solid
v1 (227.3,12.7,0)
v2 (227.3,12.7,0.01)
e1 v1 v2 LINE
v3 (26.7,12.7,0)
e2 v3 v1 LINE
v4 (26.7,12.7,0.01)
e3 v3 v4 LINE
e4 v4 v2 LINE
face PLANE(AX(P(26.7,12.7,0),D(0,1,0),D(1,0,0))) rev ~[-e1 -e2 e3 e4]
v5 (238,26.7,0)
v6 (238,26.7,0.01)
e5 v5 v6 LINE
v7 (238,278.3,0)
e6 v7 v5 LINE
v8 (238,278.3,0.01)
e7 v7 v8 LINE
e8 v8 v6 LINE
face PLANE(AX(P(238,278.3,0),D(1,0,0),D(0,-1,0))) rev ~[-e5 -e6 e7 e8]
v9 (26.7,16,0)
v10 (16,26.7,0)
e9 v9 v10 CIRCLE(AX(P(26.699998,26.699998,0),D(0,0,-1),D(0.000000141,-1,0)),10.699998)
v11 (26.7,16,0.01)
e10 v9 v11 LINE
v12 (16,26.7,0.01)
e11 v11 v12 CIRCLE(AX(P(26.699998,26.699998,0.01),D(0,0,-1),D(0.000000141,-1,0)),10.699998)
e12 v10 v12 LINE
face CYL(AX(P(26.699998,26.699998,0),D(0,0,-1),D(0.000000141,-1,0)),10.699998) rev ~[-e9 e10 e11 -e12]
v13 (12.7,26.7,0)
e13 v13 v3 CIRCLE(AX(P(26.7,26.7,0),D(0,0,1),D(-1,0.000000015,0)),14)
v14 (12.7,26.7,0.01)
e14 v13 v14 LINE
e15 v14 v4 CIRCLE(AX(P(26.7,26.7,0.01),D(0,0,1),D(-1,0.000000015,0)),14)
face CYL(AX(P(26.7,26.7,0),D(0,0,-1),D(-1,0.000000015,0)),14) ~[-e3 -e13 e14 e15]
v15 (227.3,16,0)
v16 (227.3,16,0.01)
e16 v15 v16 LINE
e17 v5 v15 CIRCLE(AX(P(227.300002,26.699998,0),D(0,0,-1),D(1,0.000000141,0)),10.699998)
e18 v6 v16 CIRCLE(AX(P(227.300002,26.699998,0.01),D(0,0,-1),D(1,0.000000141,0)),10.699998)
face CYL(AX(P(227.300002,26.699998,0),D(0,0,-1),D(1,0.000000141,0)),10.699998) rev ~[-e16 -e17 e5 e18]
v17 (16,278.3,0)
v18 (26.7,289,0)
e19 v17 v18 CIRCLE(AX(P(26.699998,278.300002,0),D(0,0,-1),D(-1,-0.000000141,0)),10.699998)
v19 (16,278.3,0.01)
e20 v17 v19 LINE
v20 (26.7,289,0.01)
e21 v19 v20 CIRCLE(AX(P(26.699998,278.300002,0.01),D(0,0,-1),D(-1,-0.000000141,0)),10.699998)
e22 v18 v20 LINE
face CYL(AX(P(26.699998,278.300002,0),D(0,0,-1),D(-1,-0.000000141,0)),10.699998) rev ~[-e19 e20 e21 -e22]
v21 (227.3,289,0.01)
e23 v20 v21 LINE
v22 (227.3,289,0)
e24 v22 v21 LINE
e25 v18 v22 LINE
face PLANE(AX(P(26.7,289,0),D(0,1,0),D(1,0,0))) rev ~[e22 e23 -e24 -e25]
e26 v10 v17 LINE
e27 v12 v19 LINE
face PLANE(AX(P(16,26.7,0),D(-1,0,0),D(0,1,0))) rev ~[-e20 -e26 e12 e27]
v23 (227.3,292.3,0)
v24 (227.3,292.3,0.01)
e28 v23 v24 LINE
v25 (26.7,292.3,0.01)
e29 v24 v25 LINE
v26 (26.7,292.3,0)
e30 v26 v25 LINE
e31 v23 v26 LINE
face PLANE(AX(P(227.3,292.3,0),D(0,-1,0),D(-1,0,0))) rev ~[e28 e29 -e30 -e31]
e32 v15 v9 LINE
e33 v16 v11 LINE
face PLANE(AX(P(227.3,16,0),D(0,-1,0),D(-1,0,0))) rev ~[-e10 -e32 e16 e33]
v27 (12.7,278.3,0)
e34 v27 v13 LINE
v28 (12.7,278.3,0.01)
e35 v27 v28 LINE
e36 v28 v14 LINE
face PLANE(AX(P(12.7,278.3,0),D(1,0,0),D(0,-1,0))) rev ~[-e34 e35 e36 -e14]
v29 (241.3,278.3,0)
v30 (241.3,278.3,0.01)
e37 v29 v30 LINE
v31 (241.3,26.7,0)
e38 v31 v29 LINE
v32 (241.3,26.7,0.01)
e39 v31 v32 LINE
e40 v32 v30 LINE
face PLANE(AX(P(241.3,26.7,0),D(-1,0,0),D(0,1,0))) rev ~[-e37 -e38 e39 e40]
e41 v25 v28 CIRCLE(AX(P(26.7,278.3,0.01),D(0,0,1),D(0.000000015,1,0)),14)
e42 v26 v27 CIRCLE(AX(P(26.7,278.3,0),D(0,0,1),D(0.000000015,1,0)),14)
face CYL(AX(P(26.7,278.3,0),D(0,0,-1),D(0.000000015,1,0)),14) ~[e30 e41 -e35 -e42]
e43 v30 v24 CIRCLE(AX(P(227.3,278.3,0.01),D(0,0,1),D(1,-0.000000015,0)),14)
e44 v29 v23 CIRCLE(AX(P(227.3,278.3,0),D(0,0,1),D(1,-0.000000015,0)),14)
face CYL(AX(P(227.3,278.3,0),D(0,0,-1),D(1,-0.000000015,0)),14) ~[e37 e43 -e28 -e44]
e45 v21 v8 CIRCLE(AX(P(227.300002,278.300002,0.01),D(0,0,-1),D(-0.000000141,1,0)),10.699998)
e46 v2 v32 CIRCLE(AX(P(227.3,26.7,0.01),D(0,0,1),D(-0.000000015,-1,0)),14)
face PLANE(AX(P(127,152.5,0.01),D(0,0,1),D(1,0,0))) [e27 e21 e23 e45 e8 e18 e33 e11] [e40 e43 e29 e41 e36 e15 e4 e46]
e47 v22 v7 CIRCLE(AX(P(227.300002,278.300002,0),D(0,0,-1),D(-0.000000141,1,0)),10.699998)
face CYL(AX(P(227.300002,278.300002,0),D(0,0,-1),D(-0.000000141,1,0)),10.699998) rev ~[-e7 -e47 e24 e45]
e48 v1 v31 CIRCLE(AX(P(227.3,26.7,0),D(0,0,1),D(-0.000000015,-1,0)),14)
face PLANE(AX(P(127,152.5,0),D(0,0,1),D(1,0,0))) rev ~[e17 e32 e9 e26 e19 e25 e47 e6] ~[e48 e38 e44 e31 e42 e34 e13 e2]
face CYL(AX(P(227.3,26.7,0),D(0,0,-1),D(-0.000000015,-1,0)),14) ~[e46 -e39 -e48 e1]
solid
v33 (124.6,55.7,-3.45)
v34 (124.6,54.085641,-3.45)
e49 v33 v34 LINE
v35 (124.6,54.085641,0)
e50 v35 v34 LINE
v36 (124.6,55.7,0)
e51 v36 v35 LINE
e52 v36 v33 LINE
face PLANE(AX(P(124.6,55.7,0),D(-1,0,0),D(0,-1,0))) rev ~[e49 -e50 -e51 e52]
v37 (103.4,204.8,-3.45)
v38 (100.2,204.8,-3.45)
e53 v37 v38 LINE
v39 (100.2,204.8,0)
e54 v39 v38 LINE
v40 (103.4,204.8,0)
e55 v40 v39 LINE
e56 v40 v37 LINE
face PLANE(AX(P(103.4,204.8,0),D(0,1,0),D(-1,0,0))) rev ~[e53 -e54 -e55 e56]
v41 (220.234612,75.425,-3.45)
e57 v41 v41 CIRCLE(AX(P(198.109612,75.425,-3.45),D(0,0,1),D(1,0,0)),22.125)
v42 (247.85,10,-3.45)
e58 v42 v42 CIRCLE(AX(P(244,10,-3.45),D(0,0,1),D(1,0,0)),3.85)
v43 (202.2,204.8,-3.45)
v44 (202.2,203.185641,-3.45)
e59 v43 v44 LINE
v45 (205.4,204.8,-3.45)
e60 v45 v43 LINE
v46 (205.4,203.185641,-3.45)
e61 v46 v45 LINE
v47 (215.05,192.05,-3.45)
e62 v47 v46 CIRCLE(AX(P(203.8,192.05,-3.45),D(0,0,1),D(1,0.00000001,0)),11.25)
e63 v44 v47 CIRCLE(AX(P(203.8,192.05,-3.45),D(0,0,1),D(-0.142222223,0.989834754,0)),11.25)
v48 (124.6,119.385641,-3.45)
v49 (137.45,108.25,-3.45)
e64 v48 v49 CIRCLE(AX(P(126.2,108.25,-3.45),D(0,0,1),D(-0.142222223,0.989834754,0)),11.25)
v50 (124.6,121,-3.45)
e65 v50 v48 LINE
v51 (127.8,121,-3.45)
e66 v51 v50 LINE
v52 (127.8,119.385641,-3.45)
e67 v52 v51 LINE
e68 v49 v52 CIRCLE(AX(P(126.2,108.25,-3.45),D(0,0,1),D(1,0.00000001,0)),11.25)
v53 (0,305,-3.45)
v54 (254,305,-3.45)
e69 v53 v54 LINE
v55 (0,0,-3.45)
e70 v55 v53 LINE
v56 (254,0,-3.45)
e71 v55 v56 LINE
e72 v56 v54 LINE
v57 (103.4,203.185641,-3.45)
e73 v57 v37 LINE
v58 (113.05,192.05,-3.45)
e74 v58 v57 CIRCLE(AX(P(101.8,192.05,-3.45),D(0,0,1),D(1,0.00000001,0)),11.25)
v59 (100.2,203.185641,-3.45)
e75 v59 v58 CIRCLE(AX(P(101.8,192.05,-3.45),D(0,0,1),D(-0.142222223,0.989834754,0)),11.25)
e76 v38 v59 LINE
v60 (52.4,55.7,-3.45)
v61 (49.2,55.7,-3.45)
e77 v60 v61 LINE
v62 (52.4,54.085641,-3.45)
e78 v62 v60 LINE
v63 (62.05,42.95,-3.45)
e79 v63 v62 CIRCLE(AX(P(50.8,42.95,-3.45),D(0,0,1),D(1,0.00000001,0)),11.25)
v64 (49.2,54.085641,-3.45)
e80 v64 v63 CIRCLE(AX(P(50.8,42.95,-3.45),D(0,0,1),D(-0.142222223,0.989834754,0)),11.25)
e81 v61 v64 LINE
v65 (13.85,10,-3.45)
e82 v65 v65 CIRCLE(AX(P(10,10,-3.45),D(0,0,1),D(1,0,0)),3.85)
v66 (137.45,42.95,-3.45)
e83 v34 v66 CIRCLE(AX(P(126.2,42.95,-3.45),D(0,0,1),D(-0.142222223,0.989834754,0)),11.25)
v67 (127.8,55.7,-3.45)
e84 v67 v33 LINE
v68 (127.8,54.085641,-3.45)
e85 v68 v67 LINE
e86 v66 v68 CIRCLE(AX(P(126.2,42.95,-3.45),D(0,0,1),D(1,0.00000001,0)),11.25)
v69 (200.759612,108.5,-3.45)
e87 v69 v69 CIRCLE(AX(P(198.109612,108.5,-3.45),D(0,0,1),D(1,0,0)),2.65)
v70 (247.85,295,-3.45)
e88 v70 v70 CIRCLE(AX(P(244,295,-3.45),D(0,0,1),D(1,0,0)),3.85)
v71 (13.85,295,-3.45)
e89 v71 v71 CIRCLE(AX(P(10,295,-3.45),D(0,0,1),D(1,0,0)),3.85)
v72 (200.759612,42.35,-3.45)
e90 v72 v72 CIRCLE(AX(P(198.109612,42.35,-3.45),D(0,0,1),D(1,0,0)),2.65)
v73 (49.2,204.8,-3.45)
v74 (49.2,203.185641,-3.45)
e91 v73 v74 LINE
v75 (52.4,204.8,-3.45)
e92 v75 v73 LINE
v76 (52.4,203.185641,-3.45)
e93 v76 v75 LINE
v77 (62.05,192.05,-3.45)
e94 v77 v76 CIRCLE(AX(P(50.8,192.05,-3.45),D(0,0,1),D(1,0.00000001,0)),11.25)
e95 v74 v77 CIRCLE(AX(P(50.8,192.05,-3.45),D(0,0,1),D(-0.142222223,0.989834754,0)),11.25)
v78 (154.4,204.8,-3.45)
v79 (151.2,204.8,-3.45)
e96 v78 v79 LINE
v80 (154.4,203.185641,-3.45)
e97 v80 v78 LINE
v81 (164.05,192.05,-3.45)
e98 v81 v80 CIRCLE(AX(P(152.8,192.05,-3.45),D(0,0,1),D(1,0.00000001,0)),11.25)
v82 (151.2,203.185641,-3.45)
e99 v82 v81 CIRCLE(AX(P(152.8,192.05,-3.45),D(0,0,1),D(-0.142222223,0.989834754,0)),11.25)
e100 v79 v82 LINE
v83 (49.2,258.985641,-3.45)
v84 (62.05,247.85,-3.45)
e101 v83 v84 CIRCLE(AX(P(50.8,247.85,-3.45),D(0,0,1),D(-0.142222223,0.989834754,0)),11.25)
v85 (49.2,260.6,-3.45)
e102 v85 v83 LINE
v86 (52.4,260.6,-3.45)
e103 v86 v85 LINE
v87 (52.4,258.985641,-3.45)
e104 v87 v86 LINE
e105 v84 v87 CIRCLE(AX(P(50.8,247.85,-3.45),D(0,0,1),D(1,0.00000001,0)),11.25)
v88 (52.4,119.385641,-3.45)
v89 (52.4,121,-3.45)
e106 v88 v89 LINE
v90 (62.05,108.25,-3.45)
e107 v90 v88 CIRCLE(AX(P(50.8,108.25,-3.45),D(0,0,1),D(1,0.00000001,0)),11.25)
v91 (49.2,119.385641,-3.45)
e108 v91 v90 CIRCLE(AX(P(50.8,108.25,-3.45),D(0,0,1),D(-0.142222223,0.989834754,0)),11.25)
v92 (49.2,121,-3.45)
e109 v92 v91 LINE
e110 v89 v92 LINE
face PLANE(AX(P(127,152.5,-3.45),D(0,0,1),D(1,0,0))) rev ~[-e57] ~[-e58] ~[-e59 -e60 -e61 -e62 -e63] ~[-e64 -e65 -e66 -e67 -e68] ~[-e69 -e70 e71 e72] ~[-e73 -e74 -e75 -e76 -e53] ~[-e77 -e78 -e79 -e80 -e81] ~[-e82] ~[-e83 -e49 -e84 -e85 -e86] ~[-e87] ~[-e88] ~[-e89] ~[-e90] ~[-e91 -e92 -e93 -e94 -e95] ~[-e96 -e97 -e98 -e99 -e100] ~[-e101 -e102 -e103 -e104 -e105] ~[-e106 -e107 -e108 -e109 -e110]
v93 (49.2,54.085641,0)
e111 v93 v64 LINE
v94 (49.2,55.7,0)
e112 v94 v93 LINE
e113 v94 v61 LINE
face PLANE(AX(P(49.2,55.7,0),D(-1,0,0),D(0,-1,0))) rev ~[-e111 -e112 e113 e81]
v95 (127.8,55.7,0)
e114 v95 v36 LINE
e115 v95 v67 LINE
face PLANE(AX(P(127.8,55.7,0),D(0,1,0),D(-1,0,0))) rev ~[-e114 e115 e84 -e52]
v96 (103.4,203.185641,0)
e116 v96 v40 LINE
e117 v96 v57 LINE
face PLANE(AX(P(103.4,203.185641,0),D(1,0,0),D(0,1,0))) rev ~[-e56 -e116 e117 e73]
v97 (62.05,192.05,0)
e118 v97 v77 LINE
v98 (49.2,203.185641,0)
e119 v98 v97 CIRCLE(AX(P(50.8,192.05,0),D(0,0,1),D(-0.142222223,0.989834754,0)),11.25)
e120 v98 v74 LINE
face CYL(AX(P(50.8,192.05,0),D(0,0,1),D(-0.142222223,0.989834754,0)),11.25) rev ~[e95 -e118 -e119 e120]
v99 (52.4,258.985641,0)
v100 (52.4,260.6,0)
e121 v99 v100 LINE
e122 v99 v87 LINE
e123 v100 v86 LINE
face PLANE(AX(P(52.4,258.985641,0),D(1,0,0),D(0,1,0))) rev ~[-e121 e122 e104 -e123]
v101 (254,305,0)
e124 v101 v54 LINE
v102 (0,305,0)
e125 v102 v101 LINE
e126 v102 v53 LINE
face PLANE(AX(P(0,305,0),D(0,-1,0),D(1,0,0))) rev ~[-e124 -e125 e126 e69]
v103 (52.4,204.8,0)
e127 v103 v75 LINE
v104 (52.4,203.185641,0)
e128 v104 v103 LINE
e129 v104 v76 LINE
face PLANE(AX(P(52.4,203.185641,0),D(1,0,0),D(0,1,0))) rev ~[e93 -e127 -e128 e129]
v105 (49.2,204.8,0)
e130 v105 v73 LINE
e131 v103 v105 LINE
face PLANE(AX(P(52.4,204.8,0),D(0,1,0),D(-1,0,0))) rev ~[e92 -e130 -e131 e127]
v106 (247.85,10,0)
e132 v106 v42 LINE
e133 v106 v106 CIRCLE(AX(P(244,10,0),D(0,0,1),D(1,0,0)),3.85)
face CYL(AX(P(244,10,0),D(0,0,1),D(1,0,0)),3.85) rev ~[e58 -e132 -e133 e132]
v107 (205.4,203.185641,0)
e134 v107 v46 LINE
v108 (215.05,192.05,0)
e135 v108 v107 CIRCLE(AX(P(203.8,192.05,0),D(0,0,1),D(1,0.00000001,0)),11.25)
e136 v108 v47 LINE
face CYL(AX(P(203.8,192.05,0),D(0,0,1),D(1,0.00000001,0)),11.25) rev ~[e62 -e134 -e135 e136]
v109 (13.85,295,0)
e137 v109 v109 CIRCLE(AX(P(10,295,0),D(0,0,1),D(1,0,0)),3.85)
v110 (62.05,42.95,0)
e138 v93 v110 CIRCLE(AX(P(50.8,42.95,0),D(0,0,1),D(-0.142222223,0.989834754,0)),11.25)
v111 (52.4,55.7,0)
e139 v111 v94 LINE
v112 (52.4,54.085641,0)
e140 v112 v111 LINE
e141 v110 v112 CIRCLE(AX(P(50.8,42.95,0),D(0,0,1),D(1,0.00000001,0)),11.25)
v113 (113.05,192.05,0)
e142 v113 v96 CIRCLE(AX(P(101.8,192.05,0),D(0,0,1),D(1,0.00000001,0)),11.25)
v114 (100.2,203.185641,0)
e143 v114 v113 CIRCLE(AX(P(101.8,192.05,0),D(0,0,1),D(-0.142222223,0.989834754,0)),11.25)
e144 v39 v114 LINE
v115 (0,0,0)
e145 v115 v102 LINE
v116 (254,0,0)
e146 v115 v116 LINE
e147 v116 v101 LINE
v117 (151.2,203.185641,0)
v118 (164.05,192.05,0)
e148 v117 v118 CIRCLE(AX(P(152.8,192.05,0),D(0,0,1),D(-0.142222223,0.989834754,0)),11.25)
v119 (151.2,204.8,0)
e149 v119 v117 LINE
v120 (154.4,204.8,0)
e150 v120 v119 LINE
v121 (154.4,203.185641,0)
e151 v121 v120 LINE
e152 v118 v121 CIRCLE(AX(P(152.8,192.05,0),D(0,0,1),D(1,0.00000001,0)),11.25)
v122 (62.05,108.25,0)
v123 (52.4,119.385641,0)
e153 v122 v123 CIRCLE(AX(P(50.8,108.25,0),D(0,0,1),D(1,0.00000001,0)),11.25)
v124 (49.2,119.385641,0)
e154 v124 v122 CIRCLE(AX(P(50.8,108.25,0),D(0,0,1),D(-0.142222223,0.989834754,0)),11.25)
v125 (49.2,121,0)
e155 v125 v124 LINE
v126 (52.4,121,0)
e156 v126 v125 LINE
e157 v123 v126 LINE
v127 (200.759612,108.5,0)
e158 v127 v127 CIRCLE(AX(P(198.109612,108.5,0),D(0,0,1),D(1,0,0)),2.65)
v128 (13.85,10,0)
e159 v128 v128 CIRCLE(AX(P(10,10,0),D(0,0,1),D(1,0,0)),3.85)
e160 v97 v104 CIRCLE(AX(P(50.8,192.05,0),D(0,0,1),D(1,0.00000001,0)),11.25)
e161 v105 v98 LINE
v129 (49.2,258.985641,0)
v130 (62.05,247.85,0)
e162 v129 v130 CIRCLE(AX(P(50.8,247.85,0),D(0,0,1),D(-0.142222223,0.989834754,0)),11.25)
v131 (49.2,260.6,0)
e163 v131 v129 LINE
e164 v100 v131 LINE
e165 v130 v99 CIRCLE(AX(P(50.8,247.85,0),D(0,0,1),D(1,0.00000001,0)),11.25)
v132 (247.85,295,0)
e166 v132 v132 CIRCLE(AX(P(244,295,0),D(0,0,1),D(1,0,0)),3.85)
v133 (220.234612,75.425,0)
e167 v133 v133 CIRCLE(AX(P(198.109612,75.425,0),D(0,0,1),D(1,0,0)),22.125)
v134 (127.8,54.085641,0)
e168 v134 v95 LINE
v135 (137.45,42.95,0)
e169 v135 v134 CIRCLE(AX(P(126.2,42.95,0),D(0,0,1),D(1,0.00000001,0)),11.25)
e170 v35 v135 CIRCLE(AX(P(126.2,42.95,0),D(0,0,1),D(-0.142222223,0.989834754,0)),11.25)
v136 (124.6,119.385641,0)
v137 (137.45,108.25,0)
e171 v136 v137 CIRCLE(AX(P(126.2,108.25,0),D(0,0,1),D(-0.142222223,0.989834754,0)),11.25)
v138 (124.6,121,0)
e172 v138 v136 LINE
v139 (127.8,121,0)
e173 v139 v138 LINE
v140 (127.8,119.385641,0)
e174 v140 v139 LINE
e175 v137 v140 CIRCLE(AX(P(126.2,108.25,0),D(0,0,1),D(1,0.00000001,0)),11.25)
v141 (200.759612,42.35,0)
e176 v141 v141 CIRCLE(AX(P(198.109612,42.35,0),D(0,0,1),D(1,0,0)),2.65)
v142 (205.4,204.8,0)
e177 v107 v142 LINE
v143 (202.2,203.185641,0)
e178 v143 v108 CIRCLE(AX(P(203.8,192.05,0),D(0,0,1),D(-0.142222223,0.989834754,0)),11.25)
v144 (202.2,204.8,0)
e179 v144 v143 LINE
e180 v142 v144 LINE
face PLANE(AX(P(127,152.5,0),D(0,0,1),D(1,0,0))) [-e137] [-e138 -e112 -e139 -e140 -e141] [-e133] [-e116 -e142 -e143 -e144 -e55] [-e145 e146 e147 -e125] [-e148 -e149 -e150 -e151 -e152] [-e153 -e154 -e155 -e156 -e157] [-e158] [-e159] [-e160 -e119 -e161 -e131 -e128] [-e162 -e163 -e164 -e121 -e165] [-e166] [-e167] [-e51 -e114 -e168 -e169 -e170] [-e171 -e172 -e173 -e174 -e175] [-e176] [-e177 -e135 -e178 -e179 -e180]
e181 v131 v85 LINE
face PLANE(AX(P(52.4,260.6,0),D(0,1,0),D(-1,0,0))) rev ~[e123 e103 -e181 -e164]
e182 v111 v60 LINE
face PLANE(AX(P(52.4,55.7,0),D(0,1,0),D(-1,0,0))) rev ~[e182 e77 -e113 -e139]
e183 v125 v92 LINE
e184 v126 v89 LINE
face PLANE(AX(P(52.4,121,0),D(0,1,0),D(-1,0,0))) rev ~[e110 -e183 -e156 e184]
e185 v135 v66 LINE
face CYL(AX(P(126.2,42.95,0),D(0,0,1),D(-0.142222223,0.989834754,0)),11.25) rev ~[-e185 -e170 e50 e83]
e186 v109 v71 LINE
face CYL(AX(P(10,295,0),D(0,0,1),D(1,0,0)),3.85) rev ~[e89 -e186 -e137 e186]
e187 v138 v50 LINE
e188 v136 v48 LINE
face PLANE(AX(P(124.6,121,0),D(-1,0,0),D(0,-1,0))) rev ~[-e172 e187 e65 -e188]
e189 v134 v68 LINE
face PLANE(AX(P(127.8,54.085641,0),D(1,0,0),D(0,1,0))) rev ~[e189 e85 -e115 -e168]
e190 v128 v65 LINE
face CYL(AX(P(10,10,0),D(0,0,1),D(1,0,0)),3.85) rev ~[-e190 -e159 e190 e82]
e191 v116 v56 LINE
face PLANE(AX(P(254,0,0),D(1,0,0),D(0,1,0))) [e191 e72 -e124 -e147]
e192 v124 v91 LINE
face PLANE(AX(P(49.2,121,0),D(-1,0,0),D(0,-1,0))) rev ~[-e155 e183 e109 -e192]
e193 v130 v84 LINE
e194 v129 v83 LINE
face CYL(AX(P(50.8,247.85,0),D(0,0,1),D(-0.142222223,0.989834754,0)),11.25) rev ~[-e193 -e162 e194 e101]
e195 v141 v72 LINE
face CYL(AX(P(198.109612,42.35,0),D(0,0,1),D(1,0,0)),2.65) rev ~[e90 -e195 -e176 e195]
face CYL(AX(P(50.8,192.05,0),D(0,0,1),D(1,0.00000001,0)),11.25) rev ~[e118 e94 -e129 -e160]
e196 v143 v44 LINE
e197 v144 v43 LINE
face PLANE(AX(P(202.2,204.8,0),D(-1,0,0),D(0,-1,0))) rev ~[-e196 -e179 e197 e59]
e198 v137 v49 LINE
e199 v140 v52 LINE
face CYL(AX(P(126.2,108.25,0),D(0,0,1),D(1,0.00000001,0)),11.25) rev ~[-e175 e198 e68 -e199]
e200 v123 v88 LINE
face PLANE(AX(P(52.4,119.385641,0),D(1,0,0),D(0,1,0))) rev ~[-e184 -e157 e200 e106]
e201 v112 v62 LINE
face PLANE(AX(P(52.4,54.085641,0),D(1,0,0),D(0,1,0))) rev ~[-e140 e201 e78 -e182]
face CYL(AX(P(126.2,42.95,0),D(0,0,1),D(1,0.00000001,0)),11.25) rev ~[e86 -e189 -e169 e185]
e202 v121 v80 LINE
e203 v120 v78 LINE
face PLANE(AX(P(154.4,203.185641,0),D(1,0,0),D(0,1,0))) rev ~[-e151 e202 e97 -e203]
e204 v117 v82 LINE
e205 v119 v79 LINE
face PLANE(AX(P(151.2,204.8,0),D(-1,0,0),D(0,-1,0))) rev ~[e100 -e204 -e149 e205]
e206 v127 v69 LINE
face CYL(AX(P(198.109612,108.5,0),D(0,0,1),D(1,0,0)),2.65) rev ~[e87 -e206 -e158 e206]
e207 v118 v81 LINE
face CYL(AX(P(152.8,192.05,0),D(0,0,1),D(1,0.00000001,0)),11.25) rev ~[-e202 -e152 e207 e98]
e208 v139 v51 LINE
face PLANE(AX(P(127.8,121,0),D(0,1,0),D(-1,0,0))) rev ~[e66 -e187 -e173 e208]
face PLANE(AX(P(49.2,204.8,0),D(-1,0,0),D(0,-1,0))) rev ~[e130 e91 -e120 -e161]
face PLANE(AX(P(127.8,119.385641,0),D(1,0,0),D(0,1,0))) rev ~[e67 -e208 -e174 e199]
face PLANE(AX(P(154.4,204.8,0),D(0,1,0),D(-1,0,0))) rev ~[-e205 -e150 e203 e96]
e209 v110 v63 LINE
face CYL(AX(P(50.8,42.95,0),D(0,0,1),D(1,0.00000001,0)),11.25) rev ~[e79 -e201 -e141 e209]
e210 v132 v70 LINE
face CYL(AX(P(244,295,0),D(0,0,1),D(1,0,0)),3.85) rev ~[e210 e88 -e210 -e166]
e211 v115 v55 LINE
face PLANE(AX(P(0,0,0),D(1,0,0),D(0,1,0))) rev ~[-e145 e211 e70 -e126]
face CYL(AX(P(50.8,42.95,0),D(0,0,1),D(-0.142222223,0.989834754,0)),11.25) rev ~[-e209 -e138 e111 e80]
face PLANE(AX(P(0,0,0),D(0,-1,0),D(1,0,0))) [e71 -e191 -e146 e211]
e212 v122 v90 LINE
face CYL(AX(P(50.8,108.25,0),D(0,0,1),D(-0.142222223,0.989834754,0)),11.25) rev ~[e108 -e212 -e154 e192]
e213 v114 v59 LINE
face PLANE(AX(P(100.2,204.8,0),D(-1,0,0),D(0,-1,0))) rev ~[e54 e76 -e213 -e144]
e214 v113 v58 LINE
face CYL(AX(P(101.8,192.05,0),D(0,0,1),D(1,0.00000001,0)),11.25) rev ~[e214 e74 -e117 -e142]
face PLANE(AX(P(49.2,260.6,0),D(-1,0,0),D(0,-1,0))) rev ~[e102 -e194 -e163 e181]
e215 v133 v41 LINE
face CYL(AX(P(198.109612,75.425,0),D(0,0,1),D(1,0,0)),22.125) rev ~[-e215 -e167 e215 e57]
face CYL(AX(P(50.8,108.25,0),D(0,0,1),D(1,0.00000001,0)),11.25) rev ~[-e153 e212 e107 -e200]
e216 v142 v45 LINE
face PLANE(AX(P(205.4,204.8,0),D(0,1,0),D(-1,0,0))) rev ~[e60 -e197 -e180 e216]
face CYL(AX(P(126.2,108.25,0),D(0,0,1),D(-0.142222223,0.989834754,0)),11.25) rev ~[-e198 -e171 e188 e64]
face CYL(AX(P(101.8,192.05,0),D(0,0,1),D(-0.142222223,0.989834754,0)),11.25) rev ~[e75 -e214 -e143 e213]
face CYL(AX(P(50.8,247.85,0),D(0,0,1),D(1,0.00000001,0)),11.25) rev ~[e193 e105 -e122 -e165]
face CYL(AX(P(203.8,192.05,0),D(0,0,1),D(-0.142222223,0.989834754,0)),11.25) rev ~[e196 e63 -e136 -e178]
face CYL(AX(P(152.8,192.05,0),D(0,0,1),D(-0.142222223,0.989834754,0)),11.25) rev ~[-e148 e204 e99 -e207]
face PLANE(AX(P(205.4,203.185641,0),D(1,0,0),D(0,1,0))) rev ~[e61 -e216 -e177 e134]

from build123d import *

# Parameters (mm, degrees)
F0_W      = 254
F0_H      = 305
F1_DEPTH  = 3.45
F2_DEPTH  = 0.01
F3_R      = 3.85
F4_DEPTH  = 3.451
F6_DEPTH  = 25
F8_DEPTH  = 25
F10_DEPTH = 25
F11_R     = 2.65
F11_R_2   = 22.125
F12_DEPTH = 25


with BuildPart() as f1:
    # F0 (on Top) → F1 (new body)
    with BuildSketch(Plane.XY):
        with Locations((127, 152.5)):
            Rectangle(F0_W, F0_H)
        with BuildLine():
            ThreePointArc((12.7, 278.3), (16.800505, 288.199495), (26.7, 292.3))
            Line((26.7, 292.3), (227.3, 292.3))
            ThreePointArc((227.3, 292.3), (237.199495, 288.199495), (241.3, 278.3))
            Line((241.3, 278.3), (241.3, 26.7))
            ThreePointArc((241.3, 26.7), (237.199495, 16.800505), (227.3, 12.7))
            Line((227.3, 12.7), (26.7, 12.7))
            ThreePointArc((26.7, 12.7), (16.800505, 16.800505), (12.7, 26.7))
            Line((12.7, 26.7), (12.7, 278.3))
        make_face(mode=Mode.SUBTRACT)
        with BuildLine():
            Line((227.3, 292.3), (26.7, 292.3))
            ThreePointArc((26.7, 292.3), (16.800505, 288.199495), (12.7, 278.3))
            Line((12.7, 278.3), (12.7, 26.7))
            ThreePointArc((12.7, 26.7), (16.800505, 16.800505), (26.7, 12.7))
            Line((26.7, 12.7), (227.3, 12.7))
            ThreePointArc((227.3, 12.7), (237.199495, 16.800505), (241.3, 26.7))
            Line((241.3, 26.7), (241.3, 278.3))
            ThreePointArc((241.3, 278.3), (237.199495, 288.199495), (227.3, 292.3))
        make_face()
        with BuildLine():
            Line((227.3, 16), (26.7, 16))
            ThreePointArc((26.7, 16), (19.133957, 19.133957), (16, 26.7))
            Line((16, 26.7), (16, 278.3))
            ThreePointArc((16, 278.3), (19.133957, 285.866043), (26.7, 289))
            Line((26.7, 289), (227.3, 289))
            ThreePointArc((227.3, 289), (234.866043, 285.866043), (238, 278.3))
            Line((238, 278.3), (238, 26.7))
            ThreePointArc((238, 26.7), (234.866043, 19.133957), (227.3, 16))
        make_face(mode=Mode.SUBTRACT)
        with BuildLine():
            ThreePointArc((16, 26.7), (19.133957, 19.133957), (26.7, 16))
            Line((26.7, 16), (227.3, 16))
            ThreePointArc((227.3, 16), (234.866043, 19.133957), (238, 26.7))
            Line((238, 26.7), (238, 278.3))
            ThreePointArc((238, 278.3), (234.866043, 285.866043), (227.3, 289))
            Line((227.3, 289), (26.7, 289))
            ThreePointArc((26.7, 289), (19.133957, 285.866043), (16, 278.3))
            Line((16, 278.3), (16, 26.7))
        make_face()
    extrude(amount=-F1_DEPTH)

    # F3 (on face) → F4 (cut, through all)
    with BuildSketch(Plane.XY):
        with Locations((244, 10)):
            Circle(F3_R)
        with Locations((10, 10)):
            Circle(F3_R)
        with Locations((244, 295)):
            Circle(F3_R)
        with Locations((10, 295)):
            Circle(F3_R)
    extrude(amount=-F4_DEPTH, mode=Mode.SUBTRACT)

    # F5 (on face) → F6 (cut)
    with BuildSketch(Plane.XY):
        with BuildLine():
            ThreePointArc((49.2, 258.985641), (50.8, 259.1), (52.4, 258.985641))
            Line((52.4, 258.985641), (52.4, 260.6))
            Line((52.4, 260.6), (49.2, 260.6))
            Line((49.2, 260.6), (49.2, 258.985641))
        make_face()
        with BuildLine():
            Line((52.4, 257.6), (52.4, 258.985641))
            ThreePointArc((52.4, 258.985641), (50.8, 259.1), (49.2, 258.985641))
            Line((49.2, 258.985641), (49.2, 257.6))
            Line((49.2, 257.6), (52.4, 257.6))
        make_face()
        with BuildLine():
            ThreePointArc((49.2, 258.985641), (43.432419, 239.348162), (62.05, 247.85))
            ThreePointArc((62.05, 247.85), (59.301838, 255.217581), (52.4, 258.985641))
            Line((52.4, 258.985641), (52.4, 257.6))
            Line((52.4, 257.6), (49.2, 257.6))
            Line((49.2, 257.6), (49.2, 258.985641))
        make_face()
    extrude(amount=-F6_DEPTH, mode=Mode.SUBTRACT)

    # F7 (on face) → F8 (cut)
    with BuildSketch(Plane.XY):
        with BuildLine():
            Line((52.4, 201.8), (52.4, 203.185641))
            ThreePointArc((52.4, 203.185641), (50.8, 203.3), (49.2, 203.185641))
            Line((49.2, 203.185641), (49.2, 201.8))
            Line((49.2, 201.8), (52.4, 201.8))
        make_face()
        with BuildLine():
            ThreePointArc((49.2, 203.185641), (50.8, 203.3), (52.4, 203.185641))
            Line((52.4, 203.185641), (52.4, 204.8))
            Line((52.4, 204.8), (49.2, 204.8))
            Line((49.2, 204.8), (49.2, 203.185641))
        make_face()
        with BuildLine():
            ThreePointArc((100.2, 203.185641), (101.8, 203.3), (103.4, 203.185641))
            Line((103.4, 203.185641), (103.4, 204.8))
            Line((103.4, 204.8), (100.2, 204.8))
            Line((100.2, 204.8), (100.2, 203.185641))
        make_face()
        with BuildLine():
            Line((103.4, 201.8), (103.4, 203.185641))
            ThreePointArc((103.4, 203.185641), (101.8, 203.3), (100.2, 203.185641))
            Line((100.2, 203.185641), (100.2, 201.8))
            Line((100.2, 201.8), (103.4, 201.8))
        make_face()
        with BuildLine():
            ThreePointArc((100.2, 203.185641), (94.432419, 183.548162), (113.05, 192.05))
            ThreePointArc((113.05, 192.05), (110.301838, 199.417581), (103.4, 203.185641))
            Line((103.4, 203.185641), (103.4, 201.8))
            Line((103.4, 201.8), (100.2, 201.8))
            Line((100.2, 201.8), (100.2, 203.185641))
        make_face()
        with BuildLine():
            ThreePointArc((49.2, 203.185641), (43.432419, 183.548162), (62.05, 192.05))
            ThreePointArc((62.05, 192.05), (59.301838, 199.417581), (52.4, 203.185641))
            Line((52.4, 203.185641), (52.4, 201.8))
            Line((52.4, 201.8), (49.2, 201.8))
            Line((49.2, 201.8), (49.2, 203.185641))
        make_face()
        with BuildLine():
            ThreePointArc((151.2, 203.185641), (152.8, 203.3), (154.4, 203.185641))
            Line((154.4, 203.185641), (154.4, 204.8))
            Line((154.4, 204.8), (151.2, 204.8))
            Line((151.2, 204.8), (151.2, 203.185641))
        make_face()
        with BuildLine():
            Line((154.4, 201.8), (154.4, 203.185641))
            ThreePointArc((154.4, 203.185641), (152.8, 203.3), (151.2, 203.185641))
            Line((151.2, 203.185641), (151.2, 201.8))
            Line((151.2, 201.8), (154.4, 201.8))
        make_face()
        with BuildLine():
            ThreePointArc((151.2, 203.185641), (145.432419, 183.548162), (164.05, 192.05))
            ThreePointArc((164.05, 192.05), (161.301838, 199.417581), (154.4, 203.185641))
            Line((154.4, 203.185641), (154.4, 201.8))
            Line((154.4, 201.8), (151.2, 201.8))
            Line((151.2, 201.8), (151.2, 203.185641))
        make_face()
        with BuildLine():
            ThreePointArc((202.2, 203.185641), (203.8, 203.3), (205.4, 203.185641))
            Line((205.4, 203.185641), (205.4, 204.8))
            Line((205.4, 204.8), (202.2, 204.8))
            Line((202.2, 204.8), (202.2, 203.185641))
        make_face()
        with BuildLine():
            Line((205.4, 201.8), (205.4, 203.185641))
            ThreePointArc((205.4, 203.185641), (203.8, 203.3), (202.2, 203.185641))
            Line((202.2, 203.185641), (202.2, 201.8))
            Line((202.2, 201.8), (205.4, 201.8))
        make_face()
        with BuildLine():
            ThreePointArc((202.2, 203.185641), (196.432419, 183.548162), (215.05, 192.05))
            ThreePointArc((215.05, 192.05), (212.301838, 199.417581), (205.4, 203.185641))
            Line((205.4, 203.185641), (205.4, 201.8))
            Line((205.4, 201.8), (202.2, 201.8))
            Line((202.2, 201.8), (202.2, 203.185641))
        make_face()
    extrude(amount=-F8_DEPTH, mode=Mode.SUBTRACT)

    # F9 (on face) → F10 (cut)
    with BuildSketch(Plane.XY):
        with BuildLine():
            ThreePointArc((49.2, 119.385641), (50.8, 119.5), (52.4, 119.385641))
            Line((52.4, 119.385641), (52.4, 121))
            Line((52.4, 121), (49.2, 121))
            Line((49.2, 121), (49.2, 119.385641))
        make_face()
        with BuildLine():
            Line((52.4, 118), (52.4, 119.385641))
            ThreePointArc((52.4, 119.385641), (50.8, 119.5), (49.2, 119.385641))
            Line((49.2, 119.385641), (49.2, 118))
            Line((49.2, 118), (52.4, 118))
        make_face()
        with BuildLine():
            ThreePointArc((49.2, 119.385641), (43.432419, 99.748162), (62.05, 108.25))
            ThreePointArc((62.05, 108.25), (59.301838, 115.617581), (52.4, 119.385641))
            Line((52.4, 119.385641), (52.4, 118))
            Line((52.4, 118), (49.2, 118))
            Line((49.2, 118), (49.2, 119.385641))
        make_face()
        with BuildLine():
            ThreePointArc((124.6, 119.385641), (126.2, 119.5), (127.8, 119.385641))
            Line((127.8, 119.385641), (127.8, 121))
            Line((127.8, 121), (124.6, 121))
            Line((124.6, 121), (124.6, 119.385641))
        make_face()
        with BuildLine():
            Line((127.8, 118), (127.8, 119.385641))
            ThreePointArc((127.8, 119.385641), (126.2, 119.5), (124.6, 119.385641))
            Line((124.6, 119.385641), (124.6, 118))
            Line((124.6, 118), (127.8, 118))
        make_face()
        with BuildLine():
            ThreePointArc((124.6, 119.385641), (118.832419, 99.748162), (137.45, 108.25))
            ThreePointArc((137.45, 108.25), (134.701838, 115.617581), (127.8, 119.385641))
            Line((127.8, 119.385641), (127.8, 118))
            Line((127.8, 118), (124.6, 118))
            Line((124.6, 118), (124.6, 119.385641))
        make_face()
        with BuildLine():
            ThreePointArc((124.6, 54.085641), (126.2, 54.2), (127.8, 54.085641))
            Line((127.8, 54.085641), (127.8, 55.7))
            Line((127.8, 55.7), (124.6, 55.7))
            Line((124.6, 55.7), (124.6, 54.085641))
        make_face()
        with BuildLine():
            Line((127.8, 52.7), (127.8, 54.085641))
            ThreePointArc((127.8, 54.085641), (126.2, 54.2), (124.6, 54.085641))
            Line((124.6, 54.085641), (124.6, 52.7))
            Line((124.6, 52.7), (127.8, 52.7))
        make_face()
        with BuildLine():
            ThreePointArc((124.6, 54.085641), (118.832419, 34.448162), (137.45, 42.95))
            ThreePointArc((137.45, 42.95), (134.701838, 50.317581), (127.8, 54.085641))
            Line((127.8, 54.085641), (127.8, 52.7))
            Line((127.8, 52.7), (124.6, 52.7))
            Line((124.6, 52.7), (124.6, 54.085641))
        make_face()
        with BuildLine():
            ThreePointArc((49.2, 54.085641), (50.8, 54.2), (52.4, 54.085641))
            Line((52.4, 54.085641), (52.4, 55.7))
            Line((52.4, 55.7), (49.2, 55.7))
            Line((49.2, 55.7), (49.2, 54.085641))
        make_face()
        with BuildLine():
            Line((52.4, 52.7), (52.4, 54.085641))
            ThreePointArc((52.4, 54.085641), (50.8, 54.2), (49.2, 54.085641))
            Line((49.2, 54.085641), (49.2, 52.7))
            Line((49.2, 52.7), (52.4, 52.7))
        make_face()
        with BuildLine():
            ThreePointArc((49.2, 54.085641), (43.432419, 34.448162), (62.05, 42.95))
            ThreePointArc((62.05, 42.95), (59.301838, 50.317581), (52.4, 54.085641))
            Line((52.4, 54.085641), (52.4, 52.7))
            Line((52.4, 52.7), (49.2, 52.7))
            Line((49.2, 52.7), (49.2, 54.085641))
        make_face()
    extrude(amount=-F10_DEPTH, mode=Mode.SUBTRACT)

    # F11 (on face) → F12 (cut)
    with BuildSketch(Plane.XY):
        with Locations((198.109612, 108.5)):
            Circle(F11_R)
        with Locations((198.109612, 42.35)):
            Circle(F11_R)
        with Locations((198.109612, 75.425)):
            Circle(F11_R_2)
    extrude(amount=-F12_DEPTH, mode=Mode.SUBTRACT)


with BuildPart() as f2:
    # F0 (on Top) → F2 (new body)
    with BuildSketch(Plane.XY):
        with BuildLine():
            Line((227.3, 292.3), (26.7, 292.3))
            ThreePointArc((26.7, 292.3), (16.800505, 288.199495), (12.7, 278.3))
            Line((12.7, 278.3), (12.7, 26.7))
            ThreePointArc((12.7, 26.7), (16.800505, 16.800505), (26.7, 12.7))
            Line((26.7, 12.7), (227.3, 12.7))
            ThreePointArc((227.3, 12.7), (237.199495, 16.800505), (241.3, 26.7))
            Line((241.3, 26.7), (241.3, 278.3))
            ThreePointArc((241.3, 278.3), (237.199495, 288.199495), (227.3, 292.3))
        make_face()
        with BuildLine():
            Line((227.3, 16), (26.7, 16))
            ThreePointArc((26.7, 16), (19.133957, 19.133957), (16, 26.7))
            Line((16, 26.7), (16, 278.3))
            ThreePointArc((16, 278.3), (19.133957, 285.866043), (26.7, 289))
            Line((26.7, 289), (227.3, 289))
            ThreePointArc((227.3, 289), (234.866043, 285.866043), (238, 278.3))
            Line((238, 278.3), (238, 26.7))
            ThreePointArc((238, 26.7), (234.866043, 19.133957), (227.3, 16))
        make_face(mode=Mode.SUBTRACT)
    extrude(amount=F2_DEPTH)


solid = Compound([f1.part, f2.part])
